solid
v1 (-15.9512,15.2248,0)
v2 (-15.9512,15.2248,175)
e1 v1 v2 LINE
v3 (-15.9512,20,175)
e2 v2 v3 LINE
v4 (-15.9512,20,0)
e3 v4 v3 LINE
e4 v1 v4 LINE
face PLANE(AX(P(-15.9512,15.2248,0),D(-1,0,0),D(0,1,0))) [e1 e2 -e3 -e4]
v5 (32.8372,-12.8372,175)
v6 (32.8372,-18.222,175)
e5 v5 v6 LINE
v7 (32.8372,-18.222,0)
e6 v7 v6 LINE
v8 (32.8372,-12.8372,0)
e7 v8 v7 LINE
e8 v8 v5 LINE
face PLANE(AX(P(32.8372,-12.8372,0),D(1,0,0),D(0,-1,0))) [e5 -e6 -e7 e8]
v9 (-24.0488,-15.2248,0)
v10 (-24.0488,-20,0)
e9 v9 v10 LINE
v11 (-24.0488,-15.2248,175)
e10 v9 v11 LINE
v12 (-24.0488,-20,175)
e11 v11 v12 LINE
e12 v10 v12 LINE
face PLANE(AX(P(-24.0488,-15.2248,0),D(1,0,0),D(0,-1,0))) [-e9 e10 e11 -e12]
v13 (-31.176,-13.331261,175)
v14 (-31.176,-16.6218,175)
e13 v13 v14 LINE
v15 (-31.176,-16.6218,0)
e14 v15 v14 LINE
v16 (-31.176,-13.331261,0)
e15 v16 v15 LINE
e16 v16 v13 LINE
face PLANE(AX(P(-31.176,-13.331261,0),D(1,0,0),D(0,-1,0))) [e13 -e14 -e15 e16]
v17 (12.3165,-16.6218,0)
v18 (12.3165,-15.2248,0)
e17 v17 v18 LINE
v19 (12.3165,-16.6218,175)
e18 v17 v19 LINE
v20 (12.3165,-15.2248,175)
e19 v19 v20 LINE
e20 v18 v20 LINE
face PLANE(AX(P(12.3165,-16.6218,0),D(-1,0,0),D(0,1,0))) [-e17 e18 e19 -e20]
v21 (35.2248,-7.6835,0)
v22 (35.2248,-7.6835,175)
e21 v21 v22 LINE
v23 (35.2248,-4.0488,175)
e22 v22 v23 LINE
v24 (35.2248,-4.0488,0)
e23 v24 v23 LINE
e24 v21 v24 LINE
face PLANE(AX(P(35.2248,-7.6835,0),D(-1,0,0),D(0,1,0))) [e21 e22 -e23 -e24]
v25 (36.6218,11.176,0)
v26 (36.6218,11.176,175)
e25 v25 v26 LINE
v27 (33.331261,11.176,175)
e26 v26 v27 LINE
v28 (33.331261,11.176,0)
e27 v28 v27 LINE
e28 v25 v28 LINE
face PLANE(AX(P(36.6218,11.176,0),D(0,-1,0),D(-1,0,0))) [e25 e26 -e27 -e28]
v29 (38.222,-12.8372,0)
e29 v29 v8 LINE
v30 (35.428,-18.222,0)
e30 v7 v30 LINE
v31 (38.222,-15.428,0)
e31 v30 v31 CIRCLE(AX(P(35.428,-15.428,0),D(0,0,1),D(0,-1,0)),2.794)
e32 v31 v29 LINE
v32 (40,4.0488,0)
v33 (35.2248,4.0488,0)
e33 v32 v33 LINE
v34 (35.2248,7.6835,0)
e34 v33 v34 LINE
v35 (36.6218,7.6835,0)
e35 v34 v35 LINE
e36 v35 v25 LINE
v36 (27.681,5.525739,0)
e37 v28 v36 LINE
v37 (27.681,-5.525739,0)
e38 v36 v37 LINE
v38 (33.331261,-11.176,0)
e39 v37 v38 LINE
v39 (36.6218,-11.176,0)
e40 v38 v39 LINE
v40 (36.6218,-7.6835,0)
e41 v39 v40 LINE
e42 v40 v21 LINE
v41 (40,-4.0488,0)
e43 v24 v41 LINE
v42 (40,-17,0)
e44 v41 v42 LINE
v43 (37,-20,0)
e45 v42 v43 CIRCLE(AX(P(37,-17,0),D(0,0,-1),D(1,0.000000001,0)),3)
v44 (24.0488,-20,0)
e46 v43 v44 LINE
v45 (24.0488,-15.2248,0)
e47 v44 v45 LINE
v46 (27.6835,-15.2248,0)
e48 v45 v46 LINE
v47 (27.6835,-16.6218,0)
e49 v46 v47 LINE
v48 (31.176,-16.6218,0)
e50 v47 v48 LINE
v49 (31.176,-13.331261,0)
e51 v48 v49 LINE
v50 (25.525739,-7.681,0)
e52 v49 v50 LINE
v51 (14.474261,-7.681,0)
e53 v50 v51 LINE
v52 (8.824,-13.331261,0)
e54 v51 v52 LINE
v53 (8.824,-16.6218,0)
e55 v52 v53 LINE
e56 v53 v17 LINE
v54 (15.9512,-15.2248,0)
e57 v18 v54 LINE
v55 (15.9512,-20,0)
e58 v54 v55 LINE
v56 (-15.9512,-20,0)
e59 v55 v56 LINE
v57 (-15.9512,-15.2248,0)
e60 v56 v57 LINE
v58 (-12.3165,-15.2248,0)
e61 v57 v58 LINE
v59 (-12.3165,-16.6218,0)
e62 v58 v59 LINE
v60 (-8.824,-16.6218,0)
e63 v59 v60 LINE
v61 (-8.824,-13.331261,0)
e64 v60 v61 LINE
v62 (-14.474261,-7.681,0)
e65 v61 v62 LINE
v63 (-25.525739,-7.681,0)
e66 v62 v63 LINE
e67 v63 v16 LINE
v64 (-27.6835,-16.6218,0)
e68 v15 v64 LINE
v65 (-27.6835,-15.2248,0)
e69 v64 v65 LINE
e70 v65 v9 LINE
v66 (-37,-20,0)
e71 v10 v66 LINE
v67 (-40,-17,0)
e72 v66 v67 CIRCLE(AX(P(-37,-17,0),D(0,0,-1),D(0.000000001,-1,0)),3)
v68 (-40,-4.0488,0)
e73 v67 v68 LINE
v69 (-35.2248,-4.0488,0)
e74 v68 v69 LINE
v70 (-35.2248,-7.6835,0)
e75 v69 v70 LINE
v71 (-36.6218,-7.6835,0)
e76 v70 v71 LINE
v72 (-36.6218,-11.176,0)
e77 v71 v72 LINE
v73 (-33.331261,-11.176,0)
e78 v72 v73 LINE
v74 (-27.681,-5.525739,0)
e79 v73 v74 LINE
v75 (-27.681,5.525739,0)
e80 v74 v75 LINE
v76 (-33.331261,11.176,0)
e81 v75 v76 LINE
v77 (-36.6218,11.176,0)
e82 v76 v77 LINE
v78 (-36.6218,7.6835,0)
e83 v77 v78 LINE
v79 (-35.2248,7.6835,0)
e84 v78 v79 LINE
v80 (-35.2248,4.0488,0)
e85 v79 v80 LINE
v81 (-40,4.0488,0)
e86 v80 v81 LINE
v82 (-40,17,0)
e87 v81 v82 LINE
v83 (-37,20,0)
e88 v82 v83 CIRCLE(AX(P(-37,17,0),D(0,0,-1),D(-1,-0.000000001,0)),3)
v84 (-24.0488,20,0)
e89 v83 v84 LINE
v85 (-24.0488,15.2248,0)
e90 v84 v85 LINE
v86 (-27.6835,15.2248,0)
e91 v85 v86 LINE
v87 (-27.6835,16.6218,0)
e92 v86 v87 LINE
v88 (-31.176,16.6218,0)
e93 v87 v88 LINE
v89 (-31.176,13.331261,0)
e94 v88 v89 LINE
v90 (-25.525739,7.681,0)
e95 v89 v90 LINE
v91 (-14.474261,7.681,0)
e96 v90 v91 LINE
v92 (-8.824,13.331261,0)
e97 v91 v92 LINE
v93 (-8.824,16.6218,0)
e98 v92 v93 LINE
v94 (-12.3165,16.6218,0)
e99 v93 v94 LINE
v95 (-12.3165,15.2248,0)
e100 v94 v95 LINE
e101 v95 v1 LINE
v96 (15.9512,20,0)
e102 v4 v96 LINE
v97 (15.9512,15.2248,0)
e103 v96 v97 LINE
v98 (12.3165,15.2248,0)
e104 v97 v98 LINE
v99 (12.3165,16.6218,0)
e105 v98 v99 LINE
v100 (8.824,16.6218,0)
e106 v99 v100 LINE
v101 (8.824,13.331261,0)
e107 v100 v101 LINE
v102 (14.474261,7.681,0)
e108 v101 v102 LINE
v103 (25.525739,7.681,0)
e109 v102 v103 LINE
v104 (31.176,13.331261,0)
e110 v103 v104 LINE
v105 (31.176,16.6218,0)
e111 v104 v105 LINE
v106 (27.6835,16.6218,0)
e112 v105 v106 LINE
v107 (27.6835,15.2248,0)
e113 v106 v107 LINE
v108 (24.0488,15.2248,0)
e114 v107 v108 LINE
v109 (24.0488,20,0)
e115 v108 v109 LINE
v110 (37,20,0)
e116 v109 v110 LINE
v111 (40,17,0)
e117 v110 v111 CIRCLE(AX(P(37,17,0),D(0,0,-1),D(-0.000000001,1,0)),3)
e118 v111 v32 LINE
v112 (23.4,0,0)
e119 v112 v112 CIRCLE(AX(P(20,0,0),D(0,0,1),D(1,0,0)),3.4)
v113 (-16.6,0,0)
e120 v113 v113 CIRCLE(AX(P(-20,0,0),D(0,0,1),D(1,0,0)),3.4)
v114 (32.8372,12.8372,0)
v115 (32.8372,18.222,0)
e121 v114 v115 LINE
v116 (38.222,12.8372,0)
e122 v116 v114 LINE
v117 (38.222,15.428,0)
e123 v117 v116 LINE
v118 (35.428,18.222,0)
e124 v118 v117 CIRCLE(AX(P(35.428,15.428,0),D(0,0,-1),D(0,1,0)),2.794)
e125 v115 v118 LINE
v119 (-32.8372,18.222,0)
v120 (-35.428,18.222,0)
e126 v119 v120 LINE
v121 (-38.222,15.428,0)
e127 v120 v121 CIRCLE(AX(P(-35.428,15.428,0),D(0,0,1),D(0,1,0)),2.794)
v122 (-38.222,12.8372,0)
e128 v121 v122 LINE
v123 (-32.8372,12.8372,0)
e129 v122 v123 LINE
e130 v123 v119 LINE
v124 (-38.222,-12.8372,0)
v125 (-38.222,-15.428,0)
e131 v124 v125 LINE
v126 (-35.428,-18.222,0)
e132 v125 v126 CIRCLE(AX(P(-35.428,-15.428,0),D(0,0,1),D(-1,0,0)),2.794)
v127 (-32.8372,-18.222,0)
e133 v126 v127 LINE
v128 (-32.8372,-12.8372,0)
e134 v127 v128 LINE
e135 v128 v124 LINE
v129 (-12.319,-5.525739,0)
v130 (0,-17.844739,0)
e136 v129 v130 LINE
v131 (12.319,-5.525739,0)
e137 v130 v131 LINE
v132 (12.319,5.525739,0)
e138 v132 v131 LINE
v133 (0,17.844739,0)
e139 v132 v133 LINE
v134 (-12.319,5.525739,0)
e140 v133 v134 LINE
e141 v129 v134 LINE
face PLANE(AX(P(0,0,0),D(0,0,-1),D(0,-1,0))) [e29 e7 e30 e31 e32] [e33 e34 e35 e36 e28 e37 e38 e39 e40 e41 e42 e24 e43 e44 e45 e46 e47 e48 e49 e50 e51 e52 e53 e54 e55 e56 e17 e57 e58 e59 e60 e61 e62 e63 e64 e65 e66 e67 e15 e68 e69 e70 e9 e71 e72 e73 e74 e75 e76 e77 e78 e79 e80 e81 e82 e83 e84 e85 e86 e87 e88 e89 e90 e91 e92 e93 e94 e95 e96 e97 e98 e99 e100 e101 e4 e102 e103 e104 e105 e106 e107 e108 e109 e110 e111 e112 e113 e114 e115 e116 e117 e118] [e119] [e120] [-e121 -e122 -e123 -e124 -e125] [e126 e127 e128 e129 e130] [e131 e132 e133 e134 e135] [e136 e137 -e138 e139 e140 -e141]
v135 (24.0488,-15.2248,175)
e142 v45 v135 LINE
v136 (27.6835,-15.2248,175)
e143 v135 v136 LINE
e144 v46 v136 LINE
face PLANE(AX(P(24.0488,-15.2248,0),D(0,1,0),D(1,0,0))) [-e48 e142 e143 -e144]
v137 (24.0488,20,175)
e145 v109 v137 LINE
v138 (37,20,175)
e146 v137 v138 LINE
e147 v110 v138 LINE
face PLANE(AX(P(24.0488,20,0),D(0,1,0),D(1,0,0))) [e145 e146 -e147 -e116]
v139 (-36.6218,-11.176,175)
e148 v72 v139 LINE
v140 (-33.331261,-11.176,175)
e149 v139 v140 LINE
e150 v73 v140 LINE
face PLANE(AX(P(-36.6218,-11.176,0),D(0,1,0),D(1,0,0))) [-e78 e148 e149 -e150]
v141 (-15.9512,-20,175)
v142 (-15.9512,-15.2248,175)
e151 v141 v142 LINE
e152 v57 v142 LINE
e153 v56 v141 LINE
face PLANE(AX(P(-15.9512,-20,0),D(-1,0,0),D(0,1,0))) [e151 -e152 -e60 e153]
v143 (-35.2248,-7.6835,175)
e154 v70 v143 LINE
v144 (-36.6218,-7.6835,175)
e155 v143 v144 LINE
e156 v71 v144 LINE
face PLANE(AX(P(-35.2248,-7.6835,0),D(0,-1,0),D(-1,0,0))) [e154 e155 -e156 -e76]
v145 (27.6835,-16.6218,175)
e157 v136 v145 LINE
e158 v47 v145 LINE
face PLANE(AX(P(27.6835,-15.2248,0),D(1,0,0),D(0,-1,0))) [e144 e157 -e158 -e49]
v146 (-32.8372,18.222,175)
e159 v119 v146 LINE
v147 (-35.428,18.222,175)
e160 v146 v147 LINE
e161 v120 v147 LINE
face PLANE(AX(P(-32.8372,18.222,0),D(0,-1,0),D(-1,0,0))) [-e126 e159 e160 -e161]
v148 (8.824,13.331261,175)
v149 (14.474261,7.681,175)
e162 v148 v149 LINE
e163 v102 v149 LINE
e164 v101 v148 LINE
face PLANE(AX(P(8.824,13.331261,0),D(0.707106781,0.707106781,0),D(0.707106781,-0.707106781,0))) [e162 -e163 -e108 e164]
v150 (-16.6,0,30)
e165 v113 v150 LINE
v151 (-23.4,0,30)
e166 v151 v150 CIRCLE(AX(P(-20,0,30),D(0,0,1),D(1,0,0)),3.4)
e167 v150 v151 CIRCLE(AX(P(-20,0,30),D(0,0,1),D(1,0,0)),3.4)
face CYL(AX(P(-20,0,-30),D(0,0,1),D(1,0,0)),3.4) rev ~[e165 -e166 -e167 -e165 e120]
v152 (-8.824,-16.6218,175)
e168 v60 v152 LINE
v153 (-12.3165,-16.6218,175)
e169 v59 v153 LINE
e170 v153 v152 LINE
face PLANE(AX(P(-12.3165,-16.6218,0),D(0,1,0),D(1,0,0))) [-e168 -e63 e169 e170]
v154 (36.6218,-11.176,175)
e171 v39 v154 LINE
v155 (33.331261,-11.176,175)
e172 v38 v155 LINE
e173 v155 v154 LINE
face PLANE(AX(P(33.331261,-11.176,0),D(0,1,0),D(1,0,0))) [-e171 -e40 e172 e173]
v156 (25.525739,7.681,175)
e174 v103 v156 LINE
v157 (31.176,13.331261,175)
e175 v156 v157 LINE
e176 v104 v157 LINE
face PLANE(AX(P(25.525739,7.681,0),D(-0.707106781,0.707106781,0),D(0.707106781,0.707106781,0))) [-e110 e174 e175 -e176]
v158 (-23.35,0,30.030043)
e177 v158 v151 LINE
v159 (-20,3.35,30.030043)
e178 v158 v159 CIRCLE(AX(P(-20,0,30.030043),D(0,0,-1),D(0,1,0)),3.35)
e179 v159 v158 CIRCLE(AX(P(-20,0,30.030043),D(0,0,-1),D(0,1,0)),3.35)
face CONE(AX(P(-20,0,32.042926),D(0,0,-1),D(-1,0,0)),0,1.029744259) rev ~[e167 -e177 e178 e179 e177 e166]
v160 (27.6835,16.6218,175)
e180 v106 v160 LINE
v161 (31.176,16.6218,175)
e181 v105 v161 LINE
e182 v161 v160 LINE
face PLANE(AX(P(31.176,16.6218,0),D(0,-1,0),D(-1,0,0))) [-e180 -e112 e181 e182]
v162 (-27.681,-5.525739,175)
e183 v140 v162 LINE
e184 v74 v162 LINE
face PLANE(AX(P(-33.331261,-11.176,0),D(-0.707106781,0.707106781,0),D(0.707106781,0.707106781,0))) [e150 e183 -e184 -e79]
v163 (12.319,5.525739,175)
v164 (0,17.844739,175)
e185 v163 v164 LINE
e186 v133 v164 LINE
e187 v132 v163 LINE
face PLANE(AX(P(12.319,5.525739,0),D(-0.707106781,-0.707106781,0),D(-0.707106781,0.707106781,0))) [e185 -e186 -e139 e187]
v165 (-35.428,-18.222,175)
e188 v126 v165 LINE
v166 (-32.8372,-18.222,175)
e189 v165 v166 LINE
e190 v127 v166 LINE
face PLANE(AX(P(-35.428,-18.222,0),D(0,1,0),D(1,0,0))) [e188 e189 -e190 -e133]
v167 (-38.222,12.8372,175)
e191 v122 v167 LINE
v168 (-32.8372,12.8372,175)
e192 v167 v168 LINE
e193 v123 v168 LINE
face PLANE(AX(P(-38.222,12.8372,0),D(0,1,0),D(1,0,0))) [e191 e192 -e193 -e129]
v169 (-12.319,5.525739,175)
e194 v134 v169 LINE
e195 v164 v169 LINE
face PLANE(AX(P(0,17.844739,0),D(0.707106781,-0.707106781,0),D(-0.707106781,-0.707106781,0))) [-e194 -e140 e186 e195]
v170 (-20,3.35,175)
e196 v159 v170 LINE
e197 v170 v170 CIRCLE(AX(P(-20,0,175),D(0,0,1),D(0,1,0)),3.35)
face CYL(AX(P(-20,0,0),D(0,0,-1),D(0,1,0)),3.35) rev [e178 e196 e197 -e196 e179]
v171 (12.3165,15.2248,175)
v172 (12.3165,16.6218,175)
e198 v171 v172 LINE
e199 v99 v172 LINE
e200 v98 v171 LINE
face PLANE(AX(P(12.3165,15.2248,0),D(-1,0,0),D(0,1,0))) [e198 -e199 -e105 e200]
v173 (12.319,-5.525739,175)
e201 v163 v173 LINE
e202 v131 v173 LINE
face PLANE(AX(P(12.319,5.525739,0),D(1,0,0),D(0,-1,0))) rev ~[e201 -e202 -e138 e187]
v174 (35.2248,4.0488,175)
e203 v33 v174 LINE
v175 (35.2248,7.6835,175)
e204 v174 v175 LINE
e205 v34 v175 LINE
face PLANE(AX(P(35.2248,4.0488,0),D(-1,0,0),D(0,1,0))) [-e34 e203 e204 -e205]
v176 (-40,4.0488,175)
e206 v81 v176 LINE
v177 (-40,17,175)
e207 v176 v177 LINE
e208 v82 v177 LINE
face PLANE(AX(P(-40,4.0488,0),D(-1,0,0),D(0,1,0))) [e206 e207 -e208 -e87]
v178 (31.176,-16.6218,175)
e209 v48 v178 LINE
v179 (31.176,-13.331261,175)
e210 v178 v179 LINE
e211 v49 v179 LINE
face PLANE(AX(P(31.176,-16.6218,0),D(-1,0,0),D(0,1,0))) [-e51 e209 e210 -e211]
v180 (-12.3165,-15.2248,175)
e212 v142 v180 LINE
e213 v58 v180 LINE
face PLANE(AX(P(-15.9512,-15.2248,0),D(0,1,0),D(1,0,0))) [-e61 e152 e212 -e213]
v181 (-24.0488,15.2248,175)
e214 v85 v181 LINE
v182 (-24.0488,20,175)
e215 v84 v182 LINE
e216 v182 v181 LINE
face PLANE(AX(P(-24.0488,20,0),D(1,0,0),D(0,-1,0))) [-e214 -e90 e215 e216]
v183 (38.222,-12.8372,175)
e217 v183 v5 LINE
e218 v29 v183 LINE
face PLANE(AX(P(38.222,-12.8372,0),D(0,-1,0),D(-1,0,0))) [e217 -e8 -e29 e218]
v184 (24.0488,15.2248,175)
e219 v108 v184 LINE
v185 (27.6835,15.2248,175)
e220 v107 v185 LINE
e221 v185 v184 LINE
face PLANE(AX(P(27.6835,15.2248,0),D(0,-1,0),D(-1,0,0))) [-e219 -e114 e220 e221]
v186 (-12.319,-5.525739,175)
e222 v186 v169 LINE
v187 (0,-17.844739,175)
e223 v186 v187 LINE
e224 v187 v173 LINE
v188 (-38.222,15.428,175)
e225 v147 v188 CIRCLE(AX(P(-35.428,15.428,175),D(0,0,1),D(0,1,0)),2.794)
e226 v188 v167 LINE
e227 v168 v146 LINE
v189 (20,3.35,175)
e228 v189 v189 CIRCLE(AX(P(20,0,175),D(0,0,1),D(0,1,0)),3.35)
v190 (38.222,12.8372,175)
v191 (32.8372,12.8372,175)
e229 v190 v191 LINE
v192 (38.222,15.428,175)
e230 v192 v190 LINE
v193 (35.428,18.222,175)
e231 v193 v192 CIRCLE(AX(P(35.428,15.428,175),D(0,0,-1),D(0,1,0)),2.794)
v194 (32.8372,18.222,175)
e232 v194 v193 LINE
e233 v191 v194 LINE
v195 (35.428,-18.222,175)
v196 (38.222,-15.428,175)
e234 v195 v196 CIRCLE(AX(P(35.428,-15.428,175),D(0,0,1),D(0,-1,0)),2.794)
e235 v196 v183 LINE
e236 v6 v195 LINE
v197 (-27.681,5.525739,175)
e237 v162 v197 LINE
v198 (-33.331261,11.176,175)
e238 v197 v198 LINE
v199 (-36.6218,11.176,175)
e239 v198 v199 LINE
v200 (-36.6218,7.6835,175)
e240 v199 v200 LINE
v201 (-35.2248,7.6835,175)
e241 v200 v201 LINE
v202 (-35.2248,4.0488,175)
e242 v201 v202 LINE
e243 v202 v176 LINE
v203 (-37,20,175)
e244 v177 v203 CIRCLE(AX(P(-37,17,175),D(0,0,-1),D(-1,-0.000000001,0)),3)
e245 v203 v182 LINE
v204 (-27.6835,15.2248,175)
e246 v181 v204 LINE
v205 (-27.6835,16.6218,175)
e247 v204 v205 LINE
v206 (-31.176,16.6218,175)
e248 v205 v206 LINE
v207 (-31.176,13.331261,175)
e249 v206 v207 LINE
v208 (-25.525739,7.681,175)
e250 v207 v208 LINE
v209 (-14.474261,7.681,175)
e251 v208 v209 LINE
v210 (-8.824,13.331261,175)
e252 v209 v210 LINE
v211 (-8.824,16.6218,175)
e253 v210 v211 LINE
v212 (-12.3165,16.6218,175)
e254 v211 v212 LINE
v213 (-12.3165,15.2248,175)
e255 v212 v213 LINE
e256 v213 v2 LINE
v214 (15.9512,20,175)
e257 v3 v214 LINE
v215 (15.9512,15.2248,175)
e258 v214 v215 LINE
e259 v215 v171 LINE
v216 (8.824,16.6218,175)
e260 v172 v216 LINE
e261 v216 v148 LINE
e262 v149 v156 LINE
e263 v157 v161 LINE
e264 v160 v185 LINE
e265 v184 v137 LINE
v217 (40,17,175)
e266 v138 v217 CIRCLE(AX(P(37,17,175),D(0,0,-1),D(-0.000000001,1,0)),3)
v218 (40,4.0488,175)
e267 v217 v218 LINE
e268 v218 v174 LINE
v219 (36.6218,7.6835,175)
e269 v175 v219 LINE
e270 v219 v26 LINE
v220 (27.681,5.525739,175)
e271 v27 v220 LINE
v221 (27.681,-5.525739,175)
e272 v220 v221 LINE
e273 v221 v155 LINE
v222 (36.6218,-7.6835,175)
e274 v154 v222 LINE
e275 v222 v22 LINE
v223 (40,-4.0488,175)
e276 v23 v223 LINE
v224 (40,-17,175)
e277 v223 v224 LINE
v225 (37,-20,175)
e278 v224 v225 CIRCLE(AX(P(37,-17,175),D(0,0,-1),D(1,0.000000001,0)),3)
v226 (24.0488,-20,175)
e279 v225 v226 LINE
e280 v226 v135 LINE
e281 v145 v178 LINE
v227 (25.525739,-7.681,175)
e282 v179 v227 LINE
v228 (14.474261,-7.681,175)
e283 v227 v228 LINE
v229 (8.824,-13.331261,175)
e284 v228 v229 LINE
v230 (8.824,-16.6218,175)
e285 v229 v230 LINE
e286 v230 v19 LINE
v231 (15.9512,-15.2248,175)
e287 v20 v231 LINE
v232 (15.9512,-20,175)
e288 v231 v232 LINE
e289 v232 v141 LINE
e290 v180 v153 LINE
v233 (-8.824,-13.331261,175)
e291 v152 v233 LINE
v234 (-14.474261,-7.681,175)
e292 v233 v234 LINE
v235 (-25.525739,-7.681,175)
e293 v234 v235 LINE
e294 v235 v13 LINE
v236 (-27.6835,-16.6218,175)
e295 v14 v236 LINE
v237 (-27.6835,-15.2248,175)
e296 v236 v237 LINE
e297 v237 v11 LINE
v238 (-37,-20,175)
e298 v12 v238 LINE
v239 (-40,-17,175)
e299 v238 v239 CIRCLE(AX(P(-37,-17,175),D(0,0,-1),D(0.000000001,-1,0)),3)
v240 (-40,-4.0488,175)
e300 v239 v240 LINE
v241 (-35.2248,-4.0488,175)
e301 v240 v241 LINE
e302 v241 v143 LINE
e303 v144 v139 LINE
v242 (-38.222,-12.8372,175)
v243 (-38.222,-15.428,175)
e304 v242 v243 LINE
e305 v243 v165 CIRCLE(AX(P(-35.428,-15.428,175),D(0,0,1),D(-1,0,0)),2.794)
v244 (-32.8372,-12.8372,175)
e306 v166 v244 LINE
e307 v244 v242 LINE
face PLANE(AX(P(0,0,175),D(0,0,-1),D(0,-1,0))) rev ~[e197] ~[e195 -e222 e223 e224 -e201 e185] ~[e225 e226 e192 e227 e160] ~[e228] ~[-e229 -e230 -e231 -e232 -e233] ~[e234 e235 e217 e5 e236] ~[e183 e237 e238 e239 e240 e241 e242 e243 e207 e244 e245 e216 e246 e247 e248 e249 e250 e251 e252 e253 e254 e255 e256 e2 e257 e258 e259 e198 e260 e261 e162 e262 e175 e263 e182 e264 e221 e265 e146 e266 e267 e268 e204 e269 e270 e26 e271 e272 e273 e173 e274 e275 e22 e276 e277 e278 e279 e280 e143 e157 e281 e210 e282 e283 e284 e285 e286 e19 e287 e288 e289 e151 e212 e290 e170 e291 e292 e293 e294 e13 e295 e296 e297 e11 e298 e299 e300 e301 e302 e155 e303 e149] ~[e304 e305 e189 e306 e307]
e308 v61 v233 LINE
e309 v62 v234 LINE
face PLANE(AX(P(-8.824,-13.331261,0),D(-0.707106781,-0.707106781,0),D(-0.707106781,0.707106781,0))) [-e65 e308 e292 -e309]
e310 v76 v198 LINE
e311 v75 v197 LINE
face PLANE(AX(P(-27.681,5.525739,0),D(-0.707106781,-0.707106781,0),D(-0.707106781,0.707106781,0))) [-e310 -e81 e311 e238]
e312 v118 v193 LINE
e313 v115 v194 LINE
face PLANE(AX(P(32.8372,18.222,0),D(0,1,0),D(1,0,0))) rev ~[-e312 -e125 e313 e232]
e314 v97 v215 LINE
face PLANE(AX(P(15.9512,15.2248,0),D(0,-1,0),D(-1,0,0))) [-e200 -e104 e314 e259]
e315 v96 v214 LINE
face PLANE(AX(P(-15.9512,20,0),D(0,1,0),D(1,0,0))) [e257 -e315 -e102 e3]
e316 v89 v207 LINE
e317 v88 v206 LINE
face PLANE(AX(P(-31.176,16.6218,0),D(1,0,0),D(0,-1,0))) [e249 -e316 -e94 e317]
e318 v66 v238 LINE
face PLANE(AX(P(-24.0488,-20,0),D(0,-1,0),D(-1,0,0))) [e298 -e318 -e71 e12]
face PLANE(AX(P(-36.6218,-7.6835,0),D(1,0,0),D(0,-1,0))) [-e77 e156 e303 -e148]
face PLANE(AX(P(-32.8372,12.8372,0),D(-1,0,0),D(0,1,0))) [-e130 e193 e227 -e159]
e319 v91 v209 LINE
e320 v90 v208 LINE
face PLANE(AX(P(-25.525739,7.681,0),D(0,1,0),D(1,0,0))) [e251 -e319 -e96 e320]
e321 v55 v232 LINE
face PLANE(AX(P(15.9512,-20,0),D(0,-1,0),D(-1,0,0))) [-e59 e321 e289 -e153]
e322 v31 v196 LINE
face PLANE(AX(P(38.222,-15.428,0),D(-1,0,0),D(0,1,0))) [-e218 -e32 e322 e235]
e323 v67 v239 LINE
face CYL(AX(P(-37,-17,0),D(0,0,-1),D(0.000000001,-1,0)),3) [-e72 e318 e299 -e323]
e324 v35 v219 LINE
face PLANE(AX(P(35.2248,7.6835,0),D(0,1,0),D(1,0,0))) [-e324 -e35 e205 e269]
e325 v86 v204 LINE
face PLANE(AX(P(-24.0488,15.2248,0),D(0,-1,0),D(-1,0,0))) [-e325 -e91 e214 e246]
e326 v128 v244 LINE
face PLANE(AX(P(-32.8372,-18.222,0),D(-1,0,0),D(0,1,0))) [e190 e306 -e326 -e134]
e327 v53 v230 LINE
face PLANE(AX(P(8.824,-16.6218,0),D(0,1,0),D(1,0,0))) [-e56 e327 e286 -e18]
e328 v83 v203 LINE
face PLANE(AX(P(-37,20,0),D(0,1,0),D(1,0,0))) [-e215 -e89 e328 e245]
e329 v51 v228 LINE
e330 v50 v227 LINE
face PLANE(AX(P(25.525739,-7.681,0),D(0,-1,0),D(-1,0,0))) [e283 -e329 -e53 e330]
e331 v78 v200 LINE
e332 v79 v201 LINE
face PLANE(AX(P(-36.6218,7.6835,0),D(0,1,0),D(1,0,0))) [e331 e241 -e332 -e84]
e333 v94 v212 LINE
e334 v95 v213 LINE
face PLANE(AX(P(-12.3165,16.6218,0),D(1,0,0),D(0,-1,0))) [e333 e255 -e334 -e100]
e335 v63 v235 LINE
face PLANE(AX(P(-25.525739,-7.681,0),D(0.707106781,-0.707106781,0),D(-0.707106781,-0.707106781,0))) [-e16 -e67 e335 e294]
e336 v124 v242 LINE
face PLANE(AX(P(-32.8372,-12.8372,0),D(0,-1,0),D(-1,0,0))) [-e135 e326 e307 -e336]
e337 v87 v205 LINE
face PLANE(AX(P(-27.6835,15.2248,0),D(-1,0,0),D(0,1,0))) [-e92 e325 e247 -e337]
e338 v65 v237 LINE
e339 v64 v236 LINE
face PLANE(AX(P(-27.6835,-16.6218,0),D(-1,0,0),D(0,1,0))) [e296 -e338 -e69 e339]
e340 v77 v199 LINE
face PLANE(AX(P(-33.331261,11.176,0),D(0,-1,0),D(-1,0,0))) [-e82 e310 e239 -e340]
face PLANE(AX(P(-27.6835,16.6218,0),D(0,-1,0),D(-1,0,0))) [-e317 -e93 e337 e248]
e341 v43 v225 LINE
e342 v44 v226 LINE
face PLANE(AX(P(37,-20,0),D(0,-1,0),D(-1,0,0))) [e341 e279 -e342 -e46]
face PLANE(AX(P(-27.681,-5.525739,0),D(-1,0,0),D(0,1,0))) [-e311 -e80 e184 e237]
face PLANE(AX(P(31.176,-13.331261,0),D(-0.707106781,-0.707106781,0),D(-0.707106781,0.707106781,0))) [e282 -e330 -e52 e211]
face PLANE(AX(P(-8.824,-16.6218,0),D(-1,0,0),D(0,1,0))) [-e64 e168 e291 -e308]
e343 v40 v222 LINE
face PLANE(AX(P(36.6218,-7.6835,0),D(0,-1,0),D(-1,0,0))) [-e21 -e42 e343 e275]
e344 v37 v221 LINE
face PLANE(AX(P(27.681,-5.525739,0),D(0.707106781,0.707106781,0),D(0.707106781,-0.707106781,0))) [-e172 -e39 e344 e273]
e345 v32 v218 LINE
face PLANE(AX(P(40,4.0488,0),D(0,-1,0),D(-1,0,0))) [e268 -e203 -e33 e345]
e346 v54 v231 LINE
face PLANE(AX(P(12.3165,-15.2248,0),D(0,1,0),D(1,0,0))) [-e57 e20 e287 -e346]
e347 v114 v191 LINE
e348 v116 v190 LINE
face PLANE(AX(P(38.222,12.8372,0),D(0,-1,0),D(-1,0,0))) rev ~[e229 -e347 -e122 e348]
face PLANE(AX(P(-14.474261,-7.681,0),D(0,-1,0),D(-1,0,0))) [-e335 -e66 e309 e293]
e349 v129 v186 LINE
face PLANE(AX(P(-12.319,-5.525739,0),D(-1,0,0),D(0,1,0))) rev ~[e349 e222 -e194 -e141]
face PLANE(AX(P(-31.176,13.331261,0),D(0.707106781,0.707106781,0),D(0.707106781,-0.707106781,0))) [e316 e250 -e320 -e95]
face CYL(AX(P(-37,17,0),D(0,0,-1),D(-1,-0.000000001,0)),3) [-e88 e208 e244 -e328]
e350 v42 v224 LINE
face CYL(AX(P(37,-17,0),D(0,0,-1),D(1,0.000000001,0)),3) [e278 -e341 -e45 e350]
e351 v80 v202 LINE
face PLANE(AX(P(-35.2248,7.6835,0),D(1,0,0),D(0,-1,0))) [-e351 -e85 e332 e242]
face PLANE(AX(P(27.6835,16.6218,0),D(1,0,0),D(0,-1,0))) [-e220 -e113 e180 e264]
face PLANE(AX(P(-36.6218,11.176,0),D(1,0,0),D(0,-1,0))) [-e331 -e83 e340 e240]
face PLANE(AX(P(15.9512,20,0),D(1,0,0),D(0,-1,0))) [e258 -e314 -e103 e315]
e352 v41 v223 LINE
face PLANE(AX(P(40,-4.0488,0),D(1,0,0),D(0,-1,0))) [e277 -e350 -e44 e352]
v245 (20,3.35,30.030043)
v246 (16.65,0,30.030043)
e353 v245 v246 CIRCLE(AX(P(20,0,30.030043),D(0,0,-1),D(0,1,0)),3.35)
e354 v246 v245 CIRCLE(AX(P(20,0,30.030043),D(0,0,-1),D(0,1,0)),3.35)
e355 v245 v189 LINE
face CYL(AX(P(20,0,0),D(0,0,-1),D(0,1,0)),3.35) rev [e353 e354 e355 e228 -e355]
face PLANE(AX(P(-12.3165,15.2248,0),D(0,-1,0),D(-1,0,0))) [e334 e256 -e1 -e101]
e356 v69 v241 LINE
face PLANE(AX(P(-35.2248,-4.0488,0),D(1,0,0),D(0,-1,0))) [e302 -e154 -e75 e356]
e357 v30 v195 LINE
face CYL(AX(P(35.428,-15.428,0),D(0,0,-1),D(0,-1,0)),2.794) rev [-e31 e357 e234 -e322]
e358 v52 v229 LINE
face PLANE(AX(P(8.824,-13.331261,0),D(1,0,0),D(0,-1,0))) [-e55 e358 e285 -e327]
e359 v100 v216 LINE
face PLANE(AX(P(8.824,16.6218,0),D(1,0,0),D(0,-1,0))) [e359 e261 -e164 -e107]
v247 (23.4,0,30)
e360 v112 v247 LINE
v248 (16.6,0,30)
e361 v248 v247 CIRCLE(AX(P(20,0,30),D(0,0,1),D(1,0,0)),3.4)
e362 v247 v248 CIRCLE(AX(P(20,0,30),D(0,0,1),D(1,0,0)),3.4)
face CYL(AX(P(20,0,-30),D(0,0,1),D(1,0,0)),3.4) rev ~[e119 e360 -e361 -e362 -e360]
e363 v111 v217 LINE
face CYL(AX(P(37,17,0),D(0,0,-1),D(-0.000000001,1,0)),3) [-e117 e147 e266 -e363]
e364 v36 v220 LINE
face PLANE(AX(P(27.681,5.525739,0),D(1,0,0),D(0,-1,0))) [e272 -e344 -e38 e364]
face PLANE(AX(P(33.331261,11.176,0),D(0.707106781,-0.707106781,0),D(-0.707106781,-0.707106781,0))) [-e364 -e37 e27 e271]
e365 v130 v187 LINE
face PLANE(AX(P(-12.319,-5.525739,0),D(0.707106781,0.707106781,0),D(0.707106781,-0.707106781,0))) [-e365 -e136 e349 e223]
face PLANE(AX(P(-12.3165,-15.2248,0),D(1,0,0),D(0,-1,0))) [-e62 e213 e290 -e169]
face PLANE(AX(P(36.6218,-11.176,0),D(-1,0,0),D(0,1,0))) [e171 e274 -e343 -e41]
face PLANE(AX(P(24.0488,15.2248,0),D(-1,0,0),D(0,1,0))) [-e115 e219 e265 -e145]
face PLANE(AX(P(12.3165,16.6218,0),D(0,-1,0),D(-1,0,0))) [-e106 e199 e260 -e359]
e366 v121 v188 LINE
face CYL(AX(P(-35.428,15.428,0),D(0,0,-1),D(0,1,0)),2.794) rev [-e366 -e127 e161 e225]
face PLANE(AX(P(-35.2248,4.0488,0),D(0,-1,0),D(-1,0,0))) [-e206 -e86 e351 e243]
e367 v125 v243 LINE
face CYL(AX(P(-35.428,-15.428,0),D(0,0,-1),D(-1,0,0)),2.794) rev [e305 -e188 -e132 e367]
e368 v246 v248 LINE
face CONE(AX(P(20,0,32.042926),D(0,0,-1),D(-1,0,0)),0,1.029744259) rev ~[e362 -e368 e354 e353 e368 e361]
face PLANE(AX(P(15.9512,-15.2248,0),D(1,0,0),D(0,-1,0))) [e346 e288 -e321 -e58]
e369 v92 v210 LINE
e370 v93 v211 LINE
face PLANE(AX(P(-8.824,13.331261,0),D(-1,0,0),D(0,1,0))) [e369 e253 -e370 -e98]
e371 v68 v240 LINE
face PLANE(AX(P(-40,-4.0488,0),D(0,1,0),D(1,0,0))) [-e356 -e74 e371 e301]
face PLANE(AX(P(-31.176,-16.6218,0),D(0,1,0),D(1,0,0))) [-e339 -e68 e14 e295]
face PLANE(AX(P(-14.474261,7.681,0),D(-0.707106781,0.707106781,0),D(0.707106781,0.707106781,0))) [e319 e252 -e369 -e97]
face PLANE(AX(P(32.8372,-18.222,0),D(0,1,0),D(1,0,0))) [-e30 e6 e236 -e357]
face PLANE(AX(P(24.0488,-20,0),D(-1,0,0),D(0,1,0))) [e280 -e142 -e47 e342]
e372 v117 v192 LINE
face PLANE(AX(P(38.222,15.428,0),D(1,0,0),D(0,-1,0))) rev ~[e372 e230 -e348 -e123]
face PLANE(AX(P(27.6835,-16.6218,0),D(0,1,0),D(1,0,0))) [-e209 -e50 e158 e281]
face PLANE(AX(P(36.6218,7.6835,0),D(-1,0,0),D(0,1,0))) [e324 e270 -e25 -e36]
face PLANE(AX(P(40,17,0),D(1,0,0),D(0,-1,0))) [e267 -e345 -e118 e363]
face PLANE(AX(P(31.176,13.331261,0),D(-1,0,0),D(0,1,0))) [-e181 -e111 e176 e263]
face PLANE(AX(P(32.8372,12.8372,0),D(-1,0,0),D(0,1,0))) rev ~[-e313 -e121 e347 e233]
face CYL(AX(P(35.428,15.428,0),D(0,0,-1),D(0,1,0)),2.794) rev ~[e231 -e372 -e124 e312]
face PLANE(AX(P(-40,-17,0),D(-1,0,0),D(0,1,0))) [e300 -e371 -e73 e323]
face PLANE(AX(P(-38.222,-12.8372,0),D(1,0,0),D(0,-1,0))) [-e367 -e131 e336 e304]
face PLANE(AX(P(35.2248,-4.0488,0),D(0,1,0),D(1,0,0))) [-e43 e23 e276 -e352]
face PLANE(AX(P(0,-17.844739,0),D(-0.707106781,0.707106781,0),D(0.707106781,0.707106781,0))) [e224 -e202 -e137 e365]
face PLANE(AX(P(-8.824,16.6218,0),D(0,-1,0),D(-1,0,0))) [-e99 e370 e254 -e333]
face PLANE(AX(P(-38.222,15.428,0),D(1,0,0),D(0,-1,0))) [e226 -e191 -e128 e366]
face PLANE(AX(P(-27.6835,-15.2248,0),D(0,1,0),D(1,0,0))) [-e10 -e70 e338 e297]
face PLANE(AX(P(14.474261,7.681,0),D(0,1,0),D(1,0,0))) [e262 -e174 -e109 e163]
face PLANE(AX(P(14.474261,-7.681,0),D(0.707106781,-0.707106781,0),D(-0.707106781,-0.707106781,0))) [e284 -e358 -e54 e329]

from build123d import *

# Parameters (mm, degrees)
SKETCH2_R                            = 3.35
F_40_SERIES_TS40_80LM_650037_1_DEPTH = 175
M8X1_25_TAPPED_HOLE1_D               = 6.8
M8X1_25_TAPPED_HOLE1_DEPTH           = 30
M8X1_25_TAPPED_HOLE1_TIP             = 2.042926105


with BuildPart() as part:
    # Sketch2 → 40 series TS40-80LM-650037(1) (new body)
    with BuildSketch(Plane(origin=(0, 0, 0), x_dir=(0, 1, 0), z_dir=(0, 0, 1))):
        with BuildLine():
            Line((0, -27.681), (-5.525738531, -27.681))
            Line((-5.525738531, -27.681), (-11.176, -33.331261469))
            Line((-11.176, -33.331261469), (-11.176, -36.6218))
            Line((-11.176, -36.6218), (-7.6835, -36.6218))
            Line((-7.6835, -36.6218), (-7.6835, -35.2248))
            Line((-7.6835, -35.2248), (-4.0488, -35.2248))
            Line((-4.0488, -35.2248), (-4.0488, -40))
            Line((-4.0488, -40), (-17, -40))
            ThreePointArc((-17, -40), (-19.121320344, -39.121320344), (-20, -37))
            Line((-20, -37), (-20, -24.0488))
            Line((-20, -24.0488), (-15.2248, -24.0488))
            Line((-15.2248, -24.0488), (-15.2248, -27.6835))
            Line((-15.2248, -27.6835), (-16.6218, -27.6835))
            Line((-16.6218, -27.6835), (-16.6218, -31.176))
            Line((-16.6218, -31.176), (-13.331261469, -31.176))
            Line((-13.331261469, -31.176), (-7.681, -25.525738531))
            Line((-7.681, -25.525738531), (-7.681, -20))
            Line((-7.681, -20), (-7.681, -14.474261469))
            Line((-7.681, -14.474261469), (-13.331261469, -8.824))
            Line((-13.331261469, -8.824), (-16.6218, -8.824))
            Line((-16.6218, -8.824), (-16.6218, -12.3165))
            Line((-16.6218, -12.3165), (-15.2248, -12.3165))
            Line((-15.2248, -12.3165), (-15.2248, -15.9512))
            Line((-15.2248, -15.9512), (-20, -15.9512))
            Line((-20, -15.9512), (-20, 15.9512))
            Line((-20, 15.9512), (-15.2248, 15.9512))
            Line((-15.2248, 15.9512), (-15.2248, 12.3165))
            Line((-15.2248, 12.3165), (-16.6218, 12.3165))
            Line((-16.6218, 12.3165), (-16.6218, 8.824))
            Line((-16.6218, 8.824), (-13.331261469, 8.824))
            Line((-13.331261469, 8.824), (-7.681, 14.474261469))
            Line((-7.681, 14.474261469), (-7.681, 25.525738531))
            Line((-7.681, 25.525738531), (-13.331261469, 31.176))
            Line((-13.331261469, 31.176), (-16.6218, 31.176))
            Line((-16.6218, 31.176), (-16.6218, 27.6835))
            Line((-16.6218, 27.6835), (-15.2248, 27.6835))
            Line((-15.2248, 27.6835), (-15.2248, 24.0488))
            Line((-15.2248, 24.0488), (-20, 24.0488))
            Line((-20, 24.0488), (-20, 37))
            ThreePointArc((-20, 37), (-19.121320344, 39.121320344), (-17, 40))
            Line((-17, 40), (-4.0488, 40))
            Line((-4.0488, 40), (-4.0488, 35.2248))
            Line((-4.0488, 35.2248), (-7.6835, 35.2248))
            Line((-7.6835, 35.2248), (-7.6835, 36.6218))
            Line((-7.6835, 36.6218), (-11.176, 36.6218))
            Line((-11.176, 36.6218), (-11.176, 33.331261469))
            Line((-11.176, 33.331261469), (-5.525738531, 27.681))
            Line((-5.525738531, 27.681), (0, 27.681))
            Line((0, 27.681), (5.525738531, 27.681))
            Line((5.525738531, 27.681), (11.176, 33.331261469))
            Line((11.176, 33.331261469), (11.176, 36.6218))
            Line((11.176, 36.6218), (7.6835, 36.6218))
            Line((7.6835, 36.6218), (7.6835, 35.2248))
            Line((7.6835, 35.2248), (4.0488, 35.2248))
            Line((4.0488, 35.2248), (4.0488, 40))
            Line((4.0488, 40), (17, 40))
            ThreePointArc((17, 40), (19.121320344, 39.121320344), (20, 37))
            Line((20, 37), (20, 24.0488))
            Line((20, 24.0488), (15.2248, 24.0488))
            Line((15.2248, 24.0488), (15.2248, 27.6835))
            Line((15.2248, 27.6835), (16.6218, 27.6835))
            Line((16.6218, 27.6835), (16.6218, 31.176))
            Line((16.6218, 31.176), (13.331261469, 31.176))
            Line((13.331261469, 31.176), (7.681, 25.525738531))
            Line((7.681, 25.525738531), (7.681, 20))
            Line((7.681, 20), (7.681, 14.474261469))
            Line((7.681, 14.474261469), (13.331261469, 8.824))
            Line((13.331261469, 8.824), (16.6218, 8.824))
            Line((16.6218, 8.824), (16.6218, 12.3165))
            Line((16.6218, 12.3165), (15.2248, 12.3165))
            Line((15.2248, 12.3165), (15.2248, 15.9512))
            Line((15.2248, 15.9512), (20, 15.9512))
            Line((20, 15.9512), (20, -15.9512))
            Line((20, -15.9512), (15.2248, -15.9512))
            Line((15.2248, -15.9512), (15.2248, -12.3165))
            Line((15.2248, -12.3165), (16.6218, -12.3165))
            Line((16.6218, -12.3165), (16.6218, -8.824))
            Line((16.6218, -8.824), (13.331261469, -8.824))
            Line((13.331261469, -8.824), (7.681, -14.474261469))
            Line((7.681, -14.474261469), (7.681, -20))
            Line((7.681, -20), (7.681, -25.525738531))
            Line((7.681, -25.525738531), (13.331261469, -31.176))
            Line((13.331261469, -31.176), (16.6218, -31.176))
            Line((16.6218, -31.176), (16.6218, -27.6835))
            Line((16.6218, -27.6835), (15.2248, -27.6835))
            Line((15.2248, -27.6835), (15.2248, -24.0488))
            Line((15.2248, -24.0488), (20, -24.0488))
            Line((20, -24.0488), (20, -37))
            ThreePointArc((20, -37), (19.121320344, -39.121320344), (17, -40))
            Line((17, -40), (4.0488, -40))
            Line((4.0488, -40), (4.0488, -35.2248))
            Line((4.0488, -35.2248), (7.6835, -35.2248))
            Line((7.6835, -35.2248), (7.6835, -36.6218))
            Line((7.6835, -36.6218), (11.176, -36.6218))
            Line((11.176, -36.6218), (11.176, -33.331261469))
            Line((11.176, -33.331261469), (5.525738531, -27.681))
            Line((5.525738531, -27.681), (0, -27.681))
        make_face()
        with Locations((0, -20)):
            Circle(SKETCH2_R, mode=Mode.SUBTRACT)
        with Locations((0, 20)):
            Circle(SKETCH2_R, mode=Mode.SUBTRACT)
        Polygon((-5.525738531, 12.319), (-17.844738531, 0), (-5.525738531, -12.319), (0, -12.319), (5.525738531, -12.319), (17.844738531, 0), (5.525738531, 12.319), (0, 12.319), align=None, mode=Mode.SUBTRACT)
        with BuildLine():
            Line((12.8372, 38.222), (12.8372, 32.8372))
            Line((12.8372, 32.8372), (18.222, 32.8372))
            Line((18.222, 32.8372), (18.222, 35.428))
            ThreePointArc((18.222, 35.428), (17.403656347, 37.403656347), (15.428, 38.222))
            Line((15.428, 38.222), (12.8372, 38.222))
        make_face(mode=Mode.SUBTRACT)
        with BuildLine():
            Line((12.8372, -32.8372), (18.222, -32.8372))
            Line((18.222, -32.8372), (18.222, -35.428))
            ThreePointArc((18.222, -35.428), (17.403656347, -37.403656347), (15.428, -38.222))
            Line((15.428, -38.222), (12.8372, -38.222))
            Line((12.8372, -38.222), (12.8372, -32.8372))
        make_face(mode=Mode.SUBTRACT)
        with BuildLine():
            Line((-12.8372, -38.222), (-12.8372, -32.8372))
            Line((-12.8372, -32.8372), (-18.222, -32.8372))
            Line((-18.222, -32.8372), (-18.222, -35.428))
            ThreePointArc((-18.222, -35.428), (-17.403656347, -37.403656347), (-15.428, -38.222))
            Line((-15.428, -38.222), (-12.8372, -38.222))
        make_face(mode=Mode.SUBTRACT)
        with BuildLine():
            Line((-18.222, 35.428), (-18.222, 32.8372))
            Line((-18.222, 32.8372), (-12.8372, 32.8372))
            Line((-12.8372, 32.8372), (-12.8372, 38.222))
            Line((-12.8372, 38.222), (-15.428, 38.222))
            ThreePointArc((-15.428, 38.222), (-17.403656347, 37.403656347), (-18.222, 35.428))
        make_face(mode=Mode.SUBTRACT)
    extrude(amount=F_40_SERIES_TS40_80LM_650037_1_DEPTH)

    # M8x1.25 Tapped Hole1
    with Locations(Plane(origin=(0, 0, 0), x_dir=(-1, 0, 0), z_dir=(0, 0, -1))):
        with Locations((-20, 0), (20, 0)):
            Hole(M8X1_25_TAPPED_HOLE1_D / 2, depth=M8X1_25_TAPPED_HOLE1_DEPTH)
            with Locations((0, 0, -(M8X1_25_TAPPED_HOLE1_DEPTH + M8X1_25_TAPPED_HOLE1_TIP / 2))):  # 118° drill point
                Cone(0, M8X1_25_TAPPED_HOLE1_D / 2, M8X1_25_TAPPED_HOLE1_TIP, mode=Mode.SUBTRACT)


solid = part.part
